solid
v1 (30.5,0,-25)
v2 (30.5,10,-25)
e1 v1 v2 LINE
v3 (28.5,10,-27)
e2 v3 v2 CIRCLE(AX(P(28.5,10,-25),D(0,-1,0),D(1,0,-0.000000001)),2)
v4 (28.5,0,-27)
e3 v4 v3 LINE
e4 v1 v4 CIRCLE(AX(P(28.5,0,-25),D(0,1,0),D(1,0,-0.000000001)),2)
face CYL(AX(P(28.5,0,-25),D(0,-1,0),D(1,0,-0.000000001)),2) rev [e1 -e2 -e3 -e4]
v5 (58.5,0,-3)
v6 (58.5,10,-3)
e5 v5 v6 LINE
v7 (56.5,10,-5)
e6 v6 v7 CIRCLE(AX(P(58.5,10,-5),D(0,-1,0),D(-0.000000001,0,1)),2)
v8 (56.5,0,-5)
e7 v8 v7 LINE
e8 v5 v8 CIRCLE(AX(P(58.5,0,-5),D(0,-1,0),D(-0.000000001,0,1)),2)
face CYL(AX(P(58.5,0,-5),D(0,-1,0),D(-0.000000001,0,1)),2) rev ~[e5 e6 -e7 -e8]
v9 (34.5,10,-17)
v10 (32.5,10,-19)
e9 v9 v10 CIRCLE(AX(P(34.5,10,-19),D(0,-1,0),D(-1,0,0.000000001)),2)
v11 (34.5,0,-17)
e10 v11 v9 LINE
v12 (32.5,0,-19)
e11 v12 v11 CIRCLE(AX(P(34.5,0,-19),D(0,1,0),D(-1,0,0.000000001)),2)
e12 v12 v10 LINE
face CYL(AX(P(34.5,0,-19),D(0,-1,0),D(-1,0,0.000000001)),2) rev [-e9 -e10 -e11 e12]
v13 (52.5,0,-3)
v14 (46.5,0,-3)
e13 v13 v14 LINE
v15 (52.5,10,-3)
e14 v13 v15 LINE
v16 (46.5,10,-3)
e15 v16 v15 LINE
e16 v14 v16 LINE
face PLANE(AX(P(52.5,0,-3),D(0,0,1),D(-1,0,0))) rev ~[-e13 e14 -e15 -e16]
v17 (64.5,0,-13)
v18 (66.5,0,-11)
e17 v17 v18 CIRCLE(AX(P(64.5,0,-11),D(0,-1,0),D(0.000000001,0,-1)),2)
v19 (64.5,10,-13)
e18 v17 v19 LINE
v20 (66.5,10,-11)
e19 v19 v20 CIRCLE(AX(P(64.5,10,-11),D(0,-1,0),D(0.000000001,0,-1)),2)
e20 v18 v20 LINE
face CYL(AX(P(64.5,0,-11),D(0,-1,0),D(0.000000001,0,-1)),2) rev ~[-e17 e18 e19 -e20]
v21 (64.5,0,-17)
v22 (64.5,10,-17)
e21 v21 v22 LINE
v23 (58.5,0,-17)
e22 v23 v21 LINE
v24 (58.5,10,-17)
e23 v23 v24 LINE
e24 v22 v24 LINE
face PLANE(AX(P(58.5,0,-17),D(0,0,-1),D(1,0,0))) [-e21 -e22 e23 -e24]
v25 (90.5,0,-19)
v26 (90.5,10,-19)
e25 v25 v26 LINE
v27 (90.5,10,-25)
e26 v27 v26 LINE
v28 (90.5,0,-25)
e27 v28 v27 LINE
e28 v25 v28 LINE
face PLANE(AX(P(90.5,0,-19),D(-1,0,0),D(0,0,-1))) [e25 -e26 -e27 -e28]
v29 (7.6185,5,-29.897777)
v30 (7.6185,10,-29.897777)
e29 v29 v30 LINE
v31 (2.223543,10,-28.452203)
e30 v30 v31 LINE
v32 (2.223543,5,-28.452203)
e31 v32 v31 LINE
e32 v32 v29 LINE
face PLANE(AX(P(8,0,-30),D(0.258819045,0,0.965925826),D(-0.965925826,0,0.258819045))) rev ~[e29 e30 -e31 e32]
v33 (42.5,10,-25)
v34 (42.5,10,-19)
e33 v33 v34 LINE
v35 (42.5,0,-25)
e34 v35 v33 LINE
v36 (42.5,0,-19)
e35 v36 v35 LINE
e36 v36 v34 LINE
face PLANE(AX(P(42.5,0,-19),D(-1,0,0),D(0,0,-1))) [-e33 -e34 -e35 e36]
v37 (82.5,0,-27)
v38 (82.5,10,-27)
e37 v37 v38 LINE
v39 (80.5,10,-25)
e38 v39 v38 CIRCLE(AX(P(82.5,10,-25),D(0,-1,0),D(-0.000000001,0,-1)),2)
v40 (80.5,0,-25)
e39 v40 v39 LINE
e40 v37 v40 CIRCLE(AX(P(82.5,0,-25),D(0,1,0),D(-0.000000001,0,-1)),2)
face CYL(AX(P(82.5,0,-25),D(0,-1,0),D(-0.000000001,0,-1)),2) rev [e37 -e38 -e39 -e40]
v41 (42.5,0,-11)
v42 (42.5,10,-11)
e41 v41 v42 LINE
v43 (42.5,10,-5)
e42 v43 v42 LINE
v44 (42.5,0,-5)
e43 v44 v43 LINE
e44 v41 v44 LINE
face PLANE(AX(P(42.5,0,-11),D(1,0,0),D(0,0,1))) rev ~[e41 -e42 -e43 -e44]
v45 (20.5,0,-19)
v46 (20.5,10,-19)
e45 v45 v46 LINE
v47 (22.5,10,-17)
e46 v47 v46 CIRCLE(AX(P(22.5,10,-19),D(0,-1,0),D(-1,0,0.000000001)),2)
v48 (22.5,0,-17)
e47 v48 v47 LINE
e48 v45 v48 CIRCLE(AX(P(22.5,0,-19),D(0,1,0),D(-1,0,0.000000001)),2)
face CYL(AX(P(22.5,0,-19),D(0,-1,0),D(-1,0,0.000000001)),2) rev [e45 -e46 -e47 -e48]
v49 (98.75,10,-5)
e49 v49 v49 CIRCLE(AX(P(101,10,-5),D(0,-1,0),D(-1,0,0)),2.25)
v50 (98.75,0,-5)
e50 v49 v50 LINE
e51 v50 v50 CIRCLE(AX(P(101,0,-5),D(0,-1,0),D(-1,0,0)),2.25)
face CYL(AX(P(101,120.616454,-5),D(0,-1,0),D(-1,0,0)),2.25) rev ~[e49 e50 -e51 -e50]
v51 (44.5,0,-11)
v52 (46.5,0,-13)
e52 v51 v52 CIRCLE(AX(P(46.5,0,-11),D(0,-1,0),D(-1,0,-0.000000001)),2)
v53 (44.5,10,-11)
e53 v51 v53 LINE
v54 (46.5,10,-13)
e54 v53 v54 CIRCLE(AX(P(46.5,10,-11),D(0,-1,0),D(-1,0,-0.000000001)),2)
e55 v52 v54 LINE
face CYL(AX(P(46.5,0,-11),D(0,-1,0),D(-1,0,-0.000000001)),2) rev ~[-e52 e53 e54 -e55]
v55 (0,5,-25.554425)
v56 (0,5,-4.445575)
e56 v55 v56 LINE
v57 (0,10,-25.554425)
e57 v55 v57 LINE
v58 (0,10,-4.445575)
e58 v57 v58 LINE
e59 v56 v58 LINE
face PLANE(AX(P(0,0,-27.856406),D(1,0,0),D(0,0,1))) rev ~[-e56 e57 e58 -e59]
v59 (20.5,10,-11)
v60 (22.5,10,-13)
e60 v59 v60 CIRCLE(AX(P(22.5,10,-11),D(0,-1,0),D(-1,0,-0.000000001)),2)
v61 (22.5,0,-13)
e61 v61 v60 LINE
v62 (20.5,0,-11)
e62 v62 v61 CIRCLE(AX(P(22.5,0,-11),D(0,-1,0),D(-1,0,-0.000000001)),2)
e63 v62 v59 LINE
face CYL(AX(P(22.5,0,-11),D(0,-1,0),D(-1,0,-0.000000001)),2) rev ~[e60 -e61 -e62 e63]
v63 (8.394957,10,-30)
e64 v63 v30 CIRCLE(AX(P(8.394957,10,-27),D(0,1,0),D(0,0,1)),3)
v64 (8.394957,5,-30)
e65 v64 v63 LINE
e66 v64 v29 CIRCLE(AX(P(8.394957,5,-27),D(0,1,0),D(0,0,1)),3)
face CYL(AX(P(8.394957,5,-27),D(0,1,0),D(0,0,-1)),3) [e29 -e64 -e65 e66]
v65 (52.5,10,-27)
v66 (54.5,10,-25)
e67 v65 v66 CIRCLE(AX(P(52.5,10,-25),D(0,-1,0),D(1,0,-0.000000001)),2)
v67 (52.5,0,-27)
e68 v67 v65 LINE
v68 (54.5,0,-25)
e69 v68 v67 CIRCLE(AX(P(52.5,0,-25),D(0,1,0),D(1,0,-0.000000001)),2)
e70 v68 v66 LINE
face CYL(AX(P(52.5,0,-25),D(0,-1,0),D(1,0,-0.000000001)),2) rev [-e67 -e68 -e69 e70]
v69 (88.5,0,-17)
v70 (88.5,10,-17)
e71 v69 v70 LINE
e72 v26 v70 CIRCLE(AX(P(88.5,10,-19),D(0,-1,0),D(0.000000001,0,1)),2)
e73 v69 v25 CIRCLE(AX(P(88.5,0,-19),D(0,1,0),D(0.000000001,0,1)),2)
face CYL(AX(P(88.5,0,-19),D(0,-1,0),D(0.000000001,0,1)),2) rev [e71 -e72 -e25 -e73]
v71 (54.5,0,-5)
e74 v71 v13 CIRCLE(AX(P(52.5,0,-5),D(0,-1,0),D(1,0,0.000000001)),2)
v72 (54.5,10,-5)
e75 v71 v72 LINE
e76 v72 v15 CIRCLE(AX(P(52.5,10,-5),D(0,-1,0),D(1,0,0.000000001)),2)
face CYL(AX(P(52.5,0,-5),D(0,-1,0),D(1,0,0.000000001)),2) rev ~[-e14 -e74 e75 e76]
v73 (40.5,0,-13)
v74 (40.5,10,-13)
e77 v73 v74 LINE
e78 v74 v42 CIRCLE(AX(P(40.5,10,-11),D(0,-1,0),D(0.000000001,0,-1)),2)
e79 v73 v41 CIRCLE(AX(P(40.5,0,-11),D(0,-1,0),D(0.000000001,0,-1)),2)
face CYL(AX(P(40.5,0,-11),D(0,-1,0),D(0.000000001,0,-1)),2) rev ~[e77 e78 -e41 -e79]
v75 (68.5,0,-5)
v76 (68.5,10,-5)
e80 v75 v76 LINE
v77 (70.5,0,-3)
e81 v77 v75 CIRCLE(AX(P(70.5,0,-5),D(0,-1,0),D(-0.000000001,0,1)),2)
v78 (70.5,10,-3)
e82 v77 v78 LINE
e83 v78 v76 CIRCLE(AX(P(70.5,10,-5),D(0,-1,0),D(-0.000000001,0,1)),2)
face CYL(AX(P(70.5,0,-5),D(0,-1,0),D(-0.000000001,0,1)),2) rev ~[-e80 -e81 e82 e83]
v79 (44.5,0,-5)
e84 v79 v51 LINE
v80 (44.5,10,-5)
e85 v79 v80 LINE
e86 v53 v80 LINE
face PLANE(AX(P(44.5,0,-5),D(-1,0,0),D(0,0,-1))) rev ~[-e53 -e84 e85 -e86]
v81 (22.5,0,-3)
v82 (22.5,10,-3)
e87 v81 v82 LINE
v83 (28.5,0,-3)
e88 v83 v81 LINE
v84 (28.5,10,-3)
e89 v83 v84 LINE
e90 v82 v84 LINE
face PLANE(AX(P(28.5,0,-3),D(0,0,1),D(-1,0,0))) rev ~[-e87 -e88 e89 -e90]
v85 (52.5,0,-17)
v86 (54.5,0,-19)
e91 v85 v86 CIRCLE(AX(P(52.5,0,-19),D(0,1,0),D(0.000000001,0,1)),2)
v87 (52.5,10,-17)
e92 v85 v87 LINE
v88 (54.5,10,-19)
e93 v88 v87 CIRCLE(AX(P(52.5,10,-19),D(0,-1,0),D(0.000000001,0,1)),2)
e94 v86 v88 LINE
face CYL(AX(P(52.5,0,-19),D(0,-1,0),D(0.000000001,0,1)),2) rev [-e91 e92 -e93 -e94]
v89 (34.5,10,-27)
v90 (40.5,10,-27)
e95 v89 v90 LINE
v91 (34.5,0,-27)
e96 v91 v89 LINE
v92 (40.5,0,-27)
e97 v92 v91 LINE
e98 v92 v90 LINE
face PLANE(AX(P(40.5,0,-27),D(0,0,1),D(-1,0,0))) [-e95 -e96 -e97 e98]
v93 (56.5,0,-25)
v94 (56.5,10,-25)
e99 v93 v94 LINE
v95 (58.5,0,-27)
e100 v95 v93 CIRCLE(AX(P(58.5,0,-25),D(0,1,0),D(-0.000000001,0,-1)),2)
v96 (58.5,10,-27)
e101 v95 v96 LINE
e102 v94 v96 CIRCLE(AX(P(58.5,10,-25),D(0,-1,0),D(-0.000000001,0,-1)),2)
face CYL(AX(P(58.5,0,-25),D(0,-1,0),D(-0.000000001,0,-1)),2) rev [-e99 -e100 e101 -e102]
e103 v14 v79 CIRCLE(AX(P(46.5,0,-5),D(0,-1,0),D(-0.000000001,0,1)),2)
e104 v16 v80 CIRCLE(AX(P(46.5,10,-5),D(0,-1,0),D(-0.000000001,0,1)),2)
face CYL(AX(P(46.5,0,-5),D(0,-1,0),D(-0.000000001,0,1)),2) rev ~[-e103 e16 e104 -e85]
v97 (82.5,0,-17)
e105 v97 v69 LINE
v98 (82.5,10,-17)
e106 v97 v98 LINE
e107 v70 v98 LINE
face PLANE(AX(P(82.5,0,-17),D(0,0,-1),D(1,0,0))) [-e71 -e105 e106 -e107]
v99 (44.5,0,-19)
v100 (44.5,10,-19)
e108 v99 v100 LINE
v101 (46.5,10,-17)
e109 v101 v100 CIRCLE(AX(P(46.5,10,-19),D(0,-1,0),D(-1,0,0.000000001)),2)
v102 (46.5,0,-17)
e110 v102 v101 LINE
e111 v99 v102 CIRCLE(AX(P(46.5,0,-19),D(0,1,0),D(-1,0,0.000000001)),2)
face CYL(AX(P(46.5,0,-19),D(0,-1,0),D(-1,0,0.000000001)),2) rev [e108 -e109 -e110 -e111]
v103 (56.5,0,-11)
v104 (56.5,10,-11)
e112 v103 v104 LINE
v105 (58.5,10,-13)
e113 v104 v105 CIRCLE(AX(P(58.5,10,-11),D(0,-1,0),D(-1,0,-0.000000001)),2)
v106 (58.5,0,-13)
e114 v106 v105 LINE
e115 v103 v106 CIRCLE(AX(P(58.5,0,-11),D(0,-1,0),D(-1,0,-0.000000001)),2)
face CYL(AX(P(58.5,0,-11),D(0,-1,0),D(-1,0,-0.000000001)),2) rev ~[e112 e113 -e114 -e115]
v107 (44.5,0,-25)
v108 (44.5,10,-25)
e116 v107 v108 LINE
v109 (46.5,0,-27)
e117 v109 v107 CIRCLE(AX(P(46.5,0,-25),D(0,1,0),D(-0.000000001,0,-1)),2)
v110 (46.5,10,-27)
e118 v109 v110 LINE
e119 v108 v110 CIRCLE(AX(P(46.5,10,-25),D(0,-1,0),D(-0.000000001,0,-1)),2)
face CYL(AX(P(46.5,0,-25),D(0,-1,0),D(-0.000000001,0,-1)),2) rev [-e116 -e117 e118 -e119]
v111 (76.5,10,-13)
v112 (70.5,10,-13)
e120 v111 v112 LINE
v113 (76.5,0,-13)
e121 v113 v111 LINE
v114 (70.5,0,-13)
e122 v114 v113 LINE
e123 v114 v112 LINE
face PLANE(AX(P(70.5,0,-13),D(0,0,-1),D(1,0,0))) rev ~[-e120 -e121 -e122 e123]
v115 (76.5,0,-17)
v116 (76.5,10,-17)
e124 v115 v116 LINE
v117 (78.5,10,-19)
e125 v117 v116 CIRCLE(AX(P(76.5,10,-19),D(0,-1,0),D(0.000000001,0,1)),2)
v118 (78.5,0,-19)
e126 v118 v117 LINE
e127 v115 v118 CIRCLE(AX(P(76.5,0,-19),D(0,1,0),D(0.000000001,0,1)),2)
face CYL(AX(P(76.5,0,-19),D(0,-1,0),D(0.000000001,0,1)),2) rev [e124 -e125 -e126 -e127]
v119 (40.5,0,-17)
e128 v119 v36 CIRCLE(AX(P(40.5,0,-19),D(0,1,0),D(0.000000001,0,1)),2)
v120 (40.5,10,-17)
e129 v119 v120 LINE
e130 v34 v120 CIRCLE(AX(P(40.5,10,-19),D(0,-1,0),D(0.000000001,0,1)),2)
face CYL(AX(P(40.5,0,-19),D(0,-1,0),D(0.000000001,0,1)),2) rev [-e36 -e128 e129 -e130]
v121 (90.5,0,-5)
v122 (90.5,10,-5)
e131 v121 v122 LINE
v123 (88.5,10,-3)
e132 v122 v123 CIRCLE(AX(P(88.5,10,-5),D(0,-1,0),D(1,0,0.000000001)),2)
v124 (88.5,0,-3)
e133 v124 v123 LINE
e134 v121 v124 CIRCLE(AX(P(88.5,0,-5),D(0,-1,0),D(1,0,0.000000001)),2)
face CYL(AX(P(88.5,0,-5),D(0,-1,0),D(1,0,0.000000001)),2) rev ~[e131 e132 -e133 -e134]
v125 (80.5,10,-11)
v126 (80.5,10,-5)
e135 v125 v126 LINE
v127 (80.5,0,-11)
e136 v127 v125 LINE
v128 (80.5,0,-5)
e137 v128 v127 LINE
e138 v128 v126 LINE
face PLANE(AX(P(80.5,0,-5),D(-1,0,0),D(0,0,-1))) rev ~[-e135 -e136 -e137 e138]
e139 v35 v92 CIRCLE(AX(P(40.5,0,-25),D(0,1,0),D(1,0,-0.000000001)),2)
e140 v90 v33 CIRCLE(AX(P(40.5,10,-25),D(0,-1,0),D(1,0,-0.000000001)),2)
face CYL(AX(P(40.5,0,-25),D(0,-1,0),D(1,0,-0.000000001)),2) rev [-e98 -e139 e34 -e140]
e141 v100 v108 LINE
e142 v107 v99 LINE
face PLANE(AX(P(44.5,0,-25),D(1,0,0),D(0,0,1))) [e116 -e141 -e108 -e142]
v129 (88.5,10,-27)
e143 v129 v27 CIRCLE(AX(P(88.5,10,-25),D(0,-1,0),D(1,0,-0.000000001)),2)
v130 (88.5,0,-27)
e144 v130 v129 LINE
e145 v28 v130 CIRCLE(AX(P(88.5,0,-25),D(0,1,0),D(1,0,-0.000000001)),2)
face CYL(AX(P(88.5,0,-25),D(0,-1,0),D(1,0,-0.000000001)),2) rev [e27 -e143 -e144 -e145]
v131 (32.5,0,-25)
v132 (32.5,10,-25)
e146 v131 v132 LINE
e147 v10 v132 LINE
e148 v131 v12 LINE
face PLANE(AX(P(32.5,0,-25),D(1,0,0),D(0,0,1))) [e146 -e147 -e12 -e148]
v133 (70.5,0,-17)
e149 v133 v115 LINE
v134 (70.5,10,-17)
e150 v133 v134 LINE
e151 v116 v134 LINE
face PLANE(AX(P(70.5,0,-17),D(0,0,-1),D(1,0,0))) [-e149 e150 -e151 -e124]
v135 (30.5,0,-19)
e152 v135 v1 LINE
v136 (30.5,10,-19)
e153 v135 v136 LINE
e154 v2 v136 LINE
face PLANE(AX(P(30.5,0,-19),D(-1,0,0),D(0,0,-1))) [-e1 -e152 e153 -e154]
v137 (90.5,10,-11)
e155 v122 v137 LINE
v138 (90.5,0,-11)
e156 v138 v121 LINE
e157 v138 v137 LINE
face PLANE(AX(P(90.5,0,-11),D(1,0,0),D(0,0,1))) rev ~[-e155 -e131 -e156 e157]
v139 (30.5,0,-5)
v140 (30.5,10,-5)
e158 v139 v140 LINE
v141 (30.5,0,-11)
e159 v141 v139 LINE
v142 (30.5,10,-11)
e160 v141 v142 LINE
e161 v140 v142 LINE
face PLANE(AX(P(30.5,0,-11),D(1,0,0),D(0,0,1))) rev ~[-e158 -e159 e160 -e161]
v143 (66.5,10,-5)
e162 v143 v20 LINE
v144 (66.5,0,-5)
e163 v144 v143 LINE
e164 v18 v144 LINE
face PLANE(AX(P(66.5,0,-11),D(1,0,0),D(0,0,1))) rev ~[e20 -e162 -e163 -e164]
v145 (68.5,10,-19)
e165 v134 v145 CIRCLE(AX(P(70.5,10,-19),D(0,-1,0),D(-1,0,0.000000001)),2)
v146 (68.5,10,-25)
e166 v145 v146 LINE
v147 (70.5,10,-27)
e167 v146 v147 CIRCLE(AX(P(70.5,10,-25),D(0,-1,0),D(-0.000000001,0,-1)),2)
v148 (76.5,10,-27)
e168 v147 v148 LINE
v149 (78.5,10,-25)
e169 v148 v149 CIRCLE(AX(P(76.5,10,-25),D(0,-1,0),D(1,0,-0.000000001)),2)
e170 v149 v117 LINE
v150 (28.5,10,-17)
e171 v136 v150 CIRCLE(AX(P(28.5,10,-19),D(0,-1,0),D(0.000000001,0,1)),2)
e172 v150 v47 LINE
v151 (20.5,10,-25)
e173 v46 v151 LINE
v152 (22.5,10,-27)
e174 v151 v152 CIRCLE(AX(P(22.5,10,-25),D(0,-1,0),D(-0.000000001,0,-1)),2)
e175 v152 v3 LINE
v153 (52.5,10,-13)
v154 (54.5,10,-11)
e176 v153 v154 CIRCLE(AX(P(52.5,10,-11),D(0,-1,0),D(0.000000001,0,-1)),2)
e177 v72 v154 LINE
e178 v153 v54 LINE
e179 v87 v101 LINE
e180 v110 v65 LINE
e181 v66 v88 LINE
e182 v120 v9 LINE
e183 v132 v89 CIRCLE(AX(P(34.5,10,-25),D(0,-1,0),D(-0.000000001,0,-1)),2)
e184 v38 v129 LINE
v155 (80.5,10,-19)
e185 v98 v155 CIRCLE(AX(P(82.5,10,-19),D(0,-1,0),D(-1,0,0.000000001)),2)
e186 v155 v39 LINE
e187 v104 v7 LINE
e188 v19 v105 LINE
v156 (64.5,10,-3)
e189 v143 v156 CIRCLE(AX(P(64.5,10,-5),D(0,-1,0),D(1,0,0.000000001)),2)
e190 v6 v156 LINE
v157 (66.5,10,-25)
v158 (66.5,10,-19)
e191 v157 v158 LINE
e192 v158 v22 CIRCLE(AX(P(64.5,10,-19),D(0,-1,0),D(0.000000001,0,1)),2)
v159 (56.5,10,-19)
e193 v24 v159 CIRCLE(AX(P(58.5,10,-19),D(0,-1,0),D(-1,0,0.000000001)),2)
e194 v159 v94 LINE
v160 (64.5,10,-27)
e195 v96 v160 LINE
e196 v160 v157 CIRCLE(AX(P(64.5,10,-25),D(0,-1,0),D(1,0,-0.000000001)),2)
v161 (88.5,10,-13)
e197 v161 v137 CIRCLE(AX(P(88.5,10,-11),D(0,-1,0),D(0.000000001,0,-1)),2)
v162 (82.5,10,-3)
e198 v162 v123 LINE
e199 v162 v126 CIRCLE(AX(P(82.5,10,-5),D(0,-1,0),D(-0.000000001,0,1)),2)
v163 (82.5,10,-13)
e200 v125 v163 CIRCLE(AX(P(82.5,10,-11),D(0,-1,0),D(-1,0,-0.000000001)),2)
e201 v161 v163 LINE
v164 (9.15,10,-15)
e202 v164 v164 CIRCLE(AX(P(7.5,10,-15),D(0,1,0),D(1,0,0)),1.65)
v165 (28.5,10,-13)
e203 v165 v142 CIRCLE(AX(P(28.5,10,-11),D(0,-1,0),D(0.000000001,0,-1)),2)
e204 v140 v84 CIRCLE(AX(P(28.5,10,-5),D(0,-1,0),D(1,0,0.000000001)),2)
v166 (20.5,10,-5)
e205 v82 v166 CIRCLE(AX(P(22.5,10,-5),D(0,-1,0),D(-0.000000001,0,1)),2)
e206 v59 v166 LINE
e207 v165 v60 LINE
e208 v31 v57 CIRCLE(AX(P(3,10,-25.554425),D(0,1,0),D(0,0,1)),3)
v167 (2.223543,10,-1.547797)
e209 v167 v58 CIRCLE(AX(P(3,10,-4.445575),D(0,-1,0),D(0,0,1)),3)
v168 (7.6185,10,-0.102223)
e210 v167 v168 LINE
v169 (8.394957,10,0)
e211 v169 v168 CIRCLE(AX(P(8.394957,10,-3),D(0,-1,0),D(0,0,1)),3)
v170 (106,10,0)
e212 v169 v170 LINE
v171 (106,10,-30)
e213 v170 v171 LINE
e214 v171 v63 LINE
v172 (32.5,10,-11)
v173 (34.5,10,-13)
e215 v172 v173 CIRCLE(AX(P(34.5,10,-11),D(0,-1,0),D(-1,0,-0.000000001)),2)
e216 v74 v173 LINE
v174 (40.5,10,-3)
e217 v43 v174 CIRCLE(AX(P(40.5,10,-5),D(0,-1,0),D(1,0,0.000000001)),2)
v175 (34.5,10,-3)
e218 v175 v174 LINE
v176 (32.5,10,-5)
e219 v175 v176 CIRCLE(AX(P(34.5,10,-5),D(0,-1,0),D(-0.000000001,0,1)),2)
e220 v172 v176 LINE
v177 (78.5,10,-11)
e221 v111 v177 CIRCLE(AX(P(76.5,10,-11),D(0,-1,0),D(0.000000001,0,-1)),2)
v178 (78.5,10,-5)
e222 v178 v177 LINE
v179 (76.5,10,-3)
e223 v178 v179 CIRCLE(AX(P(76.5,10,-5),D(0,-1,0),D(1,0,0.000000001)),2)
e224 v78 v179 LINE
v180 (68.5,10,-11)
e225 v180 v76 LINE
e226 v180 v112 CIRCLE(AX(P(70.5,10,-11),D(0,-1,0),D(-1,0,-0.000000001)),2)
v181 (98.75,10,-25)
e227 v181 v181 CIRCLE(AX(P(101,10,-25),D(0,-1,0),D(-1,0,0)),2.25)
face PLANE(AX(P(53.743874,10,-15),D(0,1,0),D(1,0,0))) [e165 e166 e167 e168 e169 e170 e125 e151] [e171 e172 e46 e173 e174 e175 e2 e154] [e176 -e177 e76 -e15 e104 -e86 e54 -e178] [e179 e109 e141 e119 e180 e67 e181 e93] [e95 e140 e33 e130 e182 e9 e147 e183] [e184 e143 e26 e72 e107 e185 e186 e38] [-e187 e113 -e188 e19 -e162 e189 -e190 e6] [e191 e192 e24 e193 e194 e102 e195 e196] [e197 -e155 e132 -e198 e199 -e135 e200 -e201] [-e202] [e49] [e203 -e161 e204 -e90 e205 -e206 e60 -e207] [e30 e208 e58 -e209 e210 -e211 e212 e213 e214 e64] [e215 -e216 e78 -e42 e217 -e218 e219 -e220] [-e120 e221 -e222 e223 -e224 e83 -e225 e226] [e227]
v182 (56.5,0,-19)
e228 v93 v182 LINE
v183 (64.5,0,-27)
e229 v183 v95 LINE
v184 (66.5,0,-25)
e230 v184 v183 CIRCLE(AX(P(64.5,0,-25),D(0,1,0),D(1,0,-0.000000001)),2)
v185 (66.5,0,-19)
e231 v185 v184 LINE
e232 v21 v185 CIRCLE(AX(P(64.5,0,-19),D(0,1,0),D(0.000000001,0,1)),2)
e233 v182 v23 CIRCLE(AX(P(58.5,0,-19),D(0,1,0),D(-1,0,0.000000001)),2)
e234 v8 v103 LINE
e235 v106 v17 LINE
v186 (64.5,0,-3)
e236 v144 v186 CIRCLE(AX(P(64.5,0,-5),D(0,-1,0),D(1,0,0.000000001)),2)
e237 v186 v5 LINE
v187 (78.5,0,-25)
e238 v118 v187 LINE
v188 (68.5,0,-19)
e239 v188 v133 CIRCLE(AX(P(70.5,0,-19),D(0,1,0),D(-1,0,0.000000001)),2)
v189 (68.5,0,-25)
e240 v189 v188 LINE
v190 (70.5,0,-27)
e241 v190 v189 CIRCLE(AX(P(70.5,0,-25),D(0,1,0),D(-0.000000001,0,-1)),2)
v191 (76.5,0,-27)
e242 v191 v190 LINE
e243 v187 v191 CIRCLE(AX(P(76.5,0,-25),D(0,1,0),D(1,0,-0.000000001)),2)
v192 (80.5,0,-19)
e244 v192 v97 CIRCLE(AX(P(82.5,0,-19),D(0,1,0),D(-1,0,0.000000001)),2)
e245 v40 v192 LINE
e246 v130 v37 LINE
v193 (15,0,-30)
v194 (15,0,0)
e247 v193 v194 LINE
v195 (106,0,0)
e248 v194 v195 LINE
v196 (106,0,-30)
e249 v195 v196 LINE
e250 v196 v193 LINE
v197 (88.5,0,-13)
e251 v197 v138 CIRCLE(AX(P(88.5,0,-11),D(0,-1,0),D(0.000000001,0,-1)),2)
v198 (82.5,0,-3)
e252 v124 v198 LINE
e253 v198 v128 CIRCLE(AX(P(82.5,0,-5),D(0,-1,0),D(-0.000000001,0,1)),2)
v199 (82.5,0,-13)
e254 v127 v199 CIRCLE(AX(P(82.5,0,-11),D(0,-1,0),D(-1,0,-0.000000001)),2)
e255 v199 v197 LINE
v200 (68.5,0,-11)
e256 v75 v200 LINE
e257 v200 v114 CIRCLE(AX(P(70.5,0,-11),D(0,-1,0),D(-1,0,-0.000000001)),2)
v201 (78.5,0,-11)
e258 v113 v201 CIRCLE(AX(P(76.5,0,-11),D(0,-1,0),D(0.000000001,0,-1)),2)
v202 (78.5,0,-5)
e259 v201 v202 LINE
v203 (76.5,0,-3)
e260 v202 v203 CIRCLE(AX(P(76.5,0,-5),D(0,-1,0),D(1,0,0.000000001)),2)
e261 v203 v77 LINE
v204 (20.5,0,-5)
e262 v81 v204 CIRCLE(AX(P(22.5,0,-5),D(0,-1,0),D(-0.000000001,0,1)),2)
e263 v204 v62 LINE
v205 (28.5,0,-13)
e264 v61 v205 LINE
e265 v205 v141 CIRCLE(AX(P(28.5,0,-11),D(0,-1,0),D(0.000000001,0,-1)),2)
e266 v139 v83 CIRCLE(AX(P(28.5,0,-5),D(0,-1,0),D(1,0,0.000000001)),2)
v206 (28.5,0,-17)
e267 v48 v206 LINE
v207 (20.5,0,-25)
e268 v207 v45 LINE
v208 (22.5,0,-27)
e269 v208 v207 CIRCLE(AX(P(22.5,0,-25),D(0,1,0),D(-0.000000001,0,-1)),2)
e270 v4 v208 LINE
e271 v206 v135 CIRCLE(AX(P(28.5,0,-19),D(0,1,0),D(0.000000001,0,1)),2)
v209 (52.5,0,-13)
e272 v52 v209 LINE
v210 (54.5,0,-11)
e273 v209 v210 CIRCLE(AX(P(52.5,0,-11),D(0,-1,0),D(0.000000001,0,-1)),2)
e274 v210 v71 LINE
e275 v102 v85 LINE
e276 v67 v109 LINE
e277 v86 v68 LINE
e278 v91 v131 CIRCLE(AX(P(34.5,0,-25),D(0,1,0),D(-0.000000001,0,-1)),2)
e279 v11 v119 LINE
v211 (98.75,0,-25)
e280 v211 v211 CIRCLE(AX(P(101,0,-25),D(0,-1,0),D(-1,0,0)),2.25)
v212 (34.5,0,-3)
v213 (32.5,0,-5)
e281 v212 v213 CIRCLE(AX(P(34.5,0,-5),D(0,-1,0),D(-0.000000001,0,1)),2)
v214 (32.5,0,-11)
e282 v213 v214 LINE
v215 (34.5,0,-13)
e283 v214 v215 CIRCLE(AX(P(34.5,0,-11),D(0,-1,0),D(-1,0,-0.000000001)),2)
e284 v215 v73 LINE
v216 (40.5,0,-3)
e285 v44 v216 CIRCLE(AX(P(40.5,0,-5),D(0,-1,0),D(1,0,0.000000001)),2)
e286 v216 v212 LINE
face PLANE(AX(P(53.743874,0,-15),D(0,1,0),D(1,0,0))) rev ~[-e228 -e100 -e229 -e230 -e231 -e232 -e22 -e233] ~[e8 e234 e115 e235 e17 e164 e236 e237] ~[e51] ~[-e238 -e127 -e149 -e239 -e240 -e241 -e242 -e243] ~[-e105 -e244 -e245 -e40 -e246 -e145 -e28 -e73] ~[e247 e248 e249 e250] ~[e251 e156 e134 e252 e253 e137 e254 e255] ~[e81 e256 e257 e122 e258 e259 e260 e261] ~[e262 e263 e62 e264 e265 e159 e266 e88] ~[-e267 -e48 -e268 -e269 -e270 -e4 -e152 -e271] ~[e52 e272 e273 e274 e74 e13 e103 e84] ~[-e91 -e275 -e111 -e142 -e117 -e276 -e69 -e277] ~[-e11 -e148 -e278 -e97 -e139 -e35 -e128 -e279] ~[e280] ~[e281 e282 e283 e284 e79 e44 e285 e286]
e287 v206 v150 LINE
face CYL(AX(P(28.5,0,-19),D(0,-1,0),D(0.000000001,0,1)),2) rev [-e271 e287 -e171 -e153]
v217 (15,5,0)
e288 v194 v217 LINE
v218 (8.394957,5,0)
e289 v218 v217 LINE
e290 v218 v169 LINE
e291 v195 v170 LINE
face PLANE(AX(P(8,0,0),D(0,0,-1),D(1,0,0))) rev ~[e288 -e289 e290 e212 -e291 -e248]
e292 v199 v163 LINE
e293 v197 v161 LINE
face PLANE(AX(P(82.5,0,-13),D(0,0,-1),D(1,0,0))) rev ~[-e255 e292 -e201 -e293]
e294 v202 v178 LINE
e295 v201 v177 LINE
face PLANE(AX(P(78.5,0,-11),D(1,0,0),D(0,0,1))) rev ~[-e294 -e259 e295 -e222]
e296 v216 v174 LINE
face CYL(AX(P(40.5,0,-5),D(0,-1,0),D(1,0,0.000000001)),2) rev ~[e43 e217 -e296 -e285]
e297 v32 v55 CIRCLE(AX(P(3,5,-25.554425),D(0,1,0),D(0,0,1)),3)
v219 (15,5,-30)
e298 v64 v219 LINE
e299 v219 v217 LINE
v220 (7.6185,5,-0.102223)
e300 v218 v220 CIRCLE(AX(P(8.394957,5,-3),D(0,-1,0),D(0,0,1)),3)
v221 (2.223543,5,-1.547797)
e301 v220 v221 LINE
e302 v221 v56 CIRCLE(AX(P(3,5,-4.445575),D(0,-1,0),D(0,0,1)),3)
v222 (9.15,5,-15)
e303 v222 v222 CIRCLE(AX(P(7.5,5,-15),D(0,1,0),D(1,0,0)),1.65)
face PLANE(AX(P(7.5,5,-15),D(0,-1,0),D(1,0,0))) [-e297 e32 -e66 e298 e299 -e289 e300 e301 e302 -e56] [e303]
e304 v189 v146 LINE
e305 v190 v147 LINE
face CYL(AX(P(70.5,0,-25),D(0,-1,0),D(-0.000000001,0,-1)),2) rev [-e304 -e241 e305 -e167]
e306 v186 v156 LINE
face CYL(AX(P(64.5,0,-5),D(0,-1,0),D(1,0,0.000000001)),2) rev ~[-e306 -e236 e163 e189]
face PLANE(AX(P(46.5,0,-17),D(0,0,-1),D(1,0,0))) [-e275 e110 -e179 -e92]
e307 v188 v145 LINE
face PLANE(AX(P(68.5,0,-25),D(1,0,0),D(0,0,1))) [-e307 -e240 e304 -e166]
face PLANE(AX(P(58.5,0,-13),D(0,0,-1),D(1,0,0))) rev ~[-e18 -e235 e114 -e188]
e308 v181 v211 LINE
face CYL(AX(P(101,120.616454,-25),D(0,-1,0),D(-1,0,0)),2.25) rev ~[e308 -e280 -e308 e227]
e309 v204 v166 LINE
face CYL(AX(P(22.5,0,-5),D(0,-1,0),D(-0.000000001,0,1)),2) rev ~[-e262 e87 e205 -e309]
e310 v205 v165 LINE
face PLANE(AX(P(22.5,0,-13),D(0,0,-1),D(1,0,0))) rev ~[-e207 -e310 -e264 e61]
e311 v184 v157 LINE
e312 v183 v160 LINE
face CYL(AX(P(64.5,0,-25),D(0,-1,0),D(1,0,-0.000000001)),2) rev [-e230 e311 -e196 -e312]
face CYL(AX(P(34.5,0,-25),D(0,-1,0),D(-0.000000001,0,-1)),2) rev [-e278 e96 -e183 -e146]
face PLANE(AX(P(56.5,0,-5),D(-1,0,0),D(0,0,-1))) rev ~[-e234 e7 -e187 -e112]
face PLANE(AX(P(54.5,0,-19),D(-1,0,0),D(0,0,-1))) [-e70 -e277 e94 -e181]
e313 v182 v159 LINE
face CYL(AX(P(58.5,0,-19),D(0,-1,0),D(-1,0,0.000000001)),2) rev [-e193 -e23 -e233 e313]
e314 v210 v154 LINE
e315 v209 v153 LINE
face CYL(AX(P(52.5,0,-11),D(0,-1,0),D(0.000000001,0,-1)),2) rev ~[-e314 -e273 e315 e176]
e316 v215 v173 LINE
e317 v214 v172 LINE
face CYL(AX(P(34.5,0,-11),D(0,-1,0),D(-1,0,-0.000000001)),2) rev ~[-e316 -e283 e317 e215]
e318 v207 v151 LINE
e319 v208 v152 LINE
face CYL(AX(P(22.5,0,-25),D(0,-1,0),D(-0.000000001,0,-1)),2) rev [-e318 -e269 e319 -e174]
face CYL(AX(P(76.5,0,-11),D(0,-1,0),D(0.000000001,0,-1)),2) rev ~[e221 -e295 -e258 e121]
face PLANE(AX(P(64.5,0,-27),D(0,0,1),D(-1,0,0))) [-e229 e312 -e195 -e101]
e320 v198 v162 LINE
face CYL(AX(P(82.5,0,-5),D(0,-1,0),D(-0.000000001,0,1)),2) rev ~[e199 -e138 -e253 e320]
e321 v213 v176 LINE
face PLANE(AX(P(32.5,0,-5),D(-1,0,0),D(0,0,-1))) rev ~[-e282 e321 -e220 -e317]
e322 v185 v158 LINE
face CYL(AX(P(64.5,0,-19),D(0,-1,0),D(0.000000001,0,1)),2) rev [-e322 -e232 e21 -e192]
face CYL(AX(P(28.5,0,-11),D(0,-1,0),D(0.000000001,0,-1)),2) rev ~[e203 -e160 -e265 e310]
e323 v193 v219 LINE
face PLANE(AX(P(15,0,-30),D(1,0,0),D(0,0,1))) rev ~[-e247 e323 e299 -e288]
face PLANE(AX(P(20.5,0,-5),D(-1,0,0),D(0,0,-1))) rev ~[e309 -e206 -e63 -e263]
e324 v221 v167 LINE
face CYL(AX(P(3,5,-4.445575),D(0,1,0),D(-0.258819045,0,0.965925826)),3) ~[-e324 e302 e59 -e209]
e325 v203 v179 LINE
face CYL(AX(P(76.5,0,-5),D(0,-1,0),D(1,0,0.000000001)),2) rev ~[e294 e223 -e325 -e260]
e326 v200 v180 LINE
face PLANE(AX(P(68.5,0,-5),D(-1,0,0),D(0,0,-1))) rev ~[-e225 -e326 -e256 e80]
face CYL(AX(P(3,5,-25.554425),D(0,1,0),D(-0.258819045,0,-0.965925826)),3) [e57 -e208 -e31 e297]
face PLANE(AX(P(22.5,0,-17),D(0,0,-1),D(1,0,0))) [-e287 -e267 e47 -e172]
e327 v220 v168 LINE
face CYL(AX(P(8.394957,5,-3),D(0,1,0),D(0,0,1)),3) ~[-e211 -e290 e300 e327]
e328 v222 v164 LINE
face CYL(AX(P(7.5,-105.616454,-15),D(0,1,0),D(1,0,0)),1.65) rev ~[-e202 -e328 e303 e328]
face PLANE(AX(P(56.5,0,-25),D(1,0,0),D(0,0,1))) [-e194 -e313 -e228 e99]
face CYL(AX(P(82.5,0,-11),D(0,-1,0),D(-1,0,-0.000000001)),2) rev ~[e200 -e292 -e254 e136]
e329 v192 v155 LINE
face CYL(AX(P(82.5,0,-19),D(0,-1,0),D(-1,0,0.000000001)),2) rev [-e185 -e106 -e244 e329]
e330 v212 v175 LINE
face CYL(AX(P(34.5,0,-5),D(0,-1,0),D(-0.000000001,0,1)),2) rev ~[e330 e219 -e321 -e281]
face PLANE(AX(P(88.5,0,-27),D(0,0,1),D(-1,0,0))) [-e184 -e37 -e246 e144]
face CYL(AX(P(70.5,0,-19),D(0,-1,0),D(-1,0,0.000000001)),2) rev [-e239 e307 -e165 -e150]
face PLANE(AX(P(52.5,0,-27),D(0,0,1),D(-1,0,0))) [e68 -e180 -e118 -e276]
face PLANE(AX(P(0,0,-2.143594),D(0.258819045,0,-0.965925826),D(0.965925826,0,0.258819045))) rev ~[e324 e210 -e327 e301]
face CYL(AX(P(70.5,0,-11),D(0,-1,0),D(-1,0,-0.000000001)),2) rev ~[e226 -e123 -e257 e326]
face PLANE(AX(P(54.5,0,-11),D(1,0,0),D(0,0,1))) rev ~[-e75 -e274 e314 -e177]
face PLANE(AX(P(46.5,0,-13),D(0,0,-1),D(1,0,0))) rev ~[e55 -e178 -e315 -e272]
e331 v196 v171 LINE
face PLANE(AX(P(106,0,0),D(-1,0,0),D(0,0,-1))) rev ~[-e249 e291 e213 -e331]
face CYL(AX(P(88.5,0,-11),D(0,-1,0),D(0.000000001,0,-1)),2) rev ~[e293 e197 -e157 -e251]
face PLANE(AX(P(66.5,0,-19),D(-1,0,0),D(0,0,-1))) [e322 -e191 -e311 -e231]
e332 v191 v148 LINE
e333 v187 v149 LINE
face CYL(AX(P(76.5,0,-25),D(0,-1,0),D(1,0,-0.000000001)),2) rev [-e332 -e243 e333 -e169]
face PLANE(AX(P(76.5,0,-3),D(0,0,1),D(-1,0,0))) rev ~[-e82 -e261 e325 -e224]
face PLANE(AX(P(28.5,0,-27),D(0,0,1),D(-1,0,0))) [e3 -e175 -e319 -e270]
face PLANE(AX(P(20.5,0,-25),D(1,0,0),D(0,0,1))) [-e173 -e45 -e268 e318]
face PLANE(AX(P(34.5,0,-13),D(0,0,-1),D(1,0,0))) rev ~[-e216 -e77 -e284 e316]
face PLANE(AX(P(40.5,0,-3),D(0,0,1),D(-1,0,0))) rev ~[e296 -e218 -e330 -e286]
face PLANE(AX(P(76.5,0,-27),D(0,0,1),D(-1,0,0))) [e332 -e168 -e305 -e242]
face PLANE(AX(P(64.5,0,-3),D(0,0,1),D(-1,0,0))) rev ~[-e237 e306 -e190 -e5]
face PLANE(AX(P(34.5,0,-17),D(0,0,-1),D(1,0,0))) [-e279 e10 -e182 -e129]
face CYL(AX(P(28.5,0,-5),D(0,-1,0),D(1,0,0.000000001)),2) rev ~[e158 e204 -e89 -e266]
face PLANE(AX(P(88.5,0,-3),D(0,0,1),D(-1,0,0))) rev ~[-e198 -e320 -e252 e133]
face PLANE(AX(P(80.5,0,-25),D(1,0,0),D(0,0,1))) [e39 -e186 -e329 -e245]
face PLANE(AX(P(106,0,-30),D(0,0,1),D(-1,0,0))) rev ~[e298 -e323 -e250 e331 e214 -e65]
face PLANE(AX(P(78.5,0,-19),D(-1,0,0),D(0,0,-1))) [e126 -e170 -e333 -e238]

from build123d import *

# Parameters (mm, degrees)
EXTRUDE_1_DEPTH     = 10
SKETCH_4_W          = 15
SKETCH_4_H          = 30
CUT_EXTRUDE_2_DEPTH = 5
FILLET_1_R          = 3
CUT_EXTRUDE_3_DEPTH = 111.616454472
HOLE_WIZARD_M41_D   = 4.5
M4X0_71_D           = 3.3


with BuildPart() as part:
    # Эскиз1 → Бобышка-Вытянуть1 (new body)
    with BuildSketch(Plane(origin=(0, 0, 0), x_dir=(1, 0, 0), z_dir=(0, 1, 0))):
        Polygon((15, 0), (106, 0), (106, 30), (15, 30), (8, 30), (0, 27.856406461), (0, 2.143593539), (8, 0), align=None)
    extrude(amount=EXTRUDE_1_DEPTH)

    # Эскиз4 → Вырез-Вытянуть2 (cut)
    with BuildSketch(Plane.XZ):
        with Locations((7.5, -15)):
            Rectangle(SKETCH_4_W, SKETCH_4_H)
    extrude(amount=-CUT_EXTRUDE_2_DEPTH, mode=Mode.SUBTRACT)

    # Скругление1
    fillet_1_edges = [part.edges().sort_by_distance(p)[0] for p in [
        (8, 7.5, 0),
        (0, 7.5, -2.143593539),
        (0, 7.5, -27.856406461),
        (8, 7.5, -30),
    ]]
    fillet(fillet_1_edges, radius=FILLET_1_R)

    # Эскиз5 → Вырез-Вытянуть3 (cut, through all)
    with BuildSketch(Plane.XZ):
        with BuildLine():
            Line((22.5, -17), (28.5, -17))
            ThreePointArc((28.5, -17), (29.914213562, -17.585786438), (30.5, -19))
            Line((30.5, -19), (30.5, -25))
            ThreePointArc((30.5, -25), (29.914213562, -26.414213562), (28.5, -27))
            Line((28.5, -27), (22.5, -27))
            ThreePointArc((22.5, -27), (21.085786438, -26.414213562), (20.5, -25))
            Line((20.5, -25), (20.5, -19))
            ThreePointArc((20.5, -19), (21.085786438, -17.585786438), (22.5, -17))
        make_face()
        with BuildLine():
            Line((34.5, -17), (40.5, -17))
            ThreePointArc((40.5, -17), (41.914213562, -17.585786438), (42.5, -19))
            Line((42.5, -19), (42.5, -25))
            ThreePointArc((42.5, -25), (41.914213562, -26.414213562), (40.5, -27))
            Line((40.5, -27), (34.5, -27))
            ThreePointArc((34.5, -27), (33.085786438, -26.414213562), (32.5, -25))
            Line((32.5, -25), (32.5, -19))
            ThreePointArc((32.5, -19), (33.085786438, -17.585786438), (34.5, -17))
        make_face()
        with BuildLine():
            Line((46.5, -17), (52.5, -17))
            ThreePointArc((52.5, -17), (53.914213562, -17.585786438), (54.5, -19))
            Line((54.5, -19), (54.5, -25))
            ThreePointArc((54.5, -25), (53.914213562, -26.414213562), (52.5, -27))
            Line((52.5, -27), (46.5, -27))
            ThreePointArc((46.5, -27), (45.085786438, -26.414213562), (44.5, -25))
            Line((44.5, -25), (44.5, -19))
            ThreePointArc((44.5, -19), (45.085786438, -17.585786438), (46.5, -17))
        make_face()
        with BuildLine():
            Line((58.5, -17), (64.5, -17))
            ThreePointArc((64.5, -17), (65.914213562, -17.585786438), (66.5, -19))
            Line((66.5, -19), (66.5, -25))
            ThreePointArc((66.5, -25), (65.914213562, -26.414213562), (64.5, -27))
            Line((64.5, -27), (58.5, -27))
            ThreePointArc((58.5, -27), (57.085786438, -26.414213562), (56.5, -25))
            Line((56.5, -25), (56.5, -19))
            ThreePointArc((56.5, -19), (57.085786438, -17.585786438), (58.5, -17))
        make_face()
        with BuildLine():
            Line((70.5, -17), (76.5, -17))
            ThreePointArc((76.5, -17), (77.914213562, -17.585786438), (78.5, -19))
            Line((78.5, -19), (78.5, -25))
            ThreePointArc((78.5, -25), (77.914213562, -26.414213562), (76.5, -27))
            Line((76.5, -27), (70.5, -27))
            ThreePointArc((70.5, -27), (69.085786438, -26.414213562), (68.5, -25))
            Line((68.5, -25), (68.5, -19))
            ThreePointArc((68.5, -19), (69.085786438, -17.585786438), (70.5, -17))
        make_face()
        with BuildLine():
            Line((82.5, -17), (88.5, -17))
            ThreePointArc((88.5, -17), (89.914213562, -17.585786438), (90.5, -19))
            Line((90.5, -19), (90.5, -25))
            ThreePointArc((90.5, -25), (89.914213562, -26.414213562), (88.5, -27))
            Line((88.5, -27), (82.5, -27))
            ThreePointArc((82.5, -27), (81.085786438, -26.414213562), (80.5, -25))
            Line((80.5, -25), (80.5, -19))
            ThreePointArc((80.5, -19), (81.085786438, -17.585786438), (82.5, -17))
        make_face()
        with BuildLine():
            Line((90.5, -11), (90.5, -5))
            ThreePointArc((90.5, -5), (89.914213562, -3.585786438), (88.5, -3))
            Line((88.5, -3), (82.5, -3))
            ThreePointArc((82.5, -3), (81.085786438, -3.585786438), (80.5, -5))
            Line((80.5, -5), (80.5, -11))
            ThreePointArc((80.5, -11), (81.085786438, -12.414213562), (82.5, -13))
            Line((82.5, -13), (88.5, -13))
            ThreePointArc((88.5, -13), (89.914213562, -12.414213562), (90.5, -11))
        make_face()
        with BuildLine():
            Line((78.5, -11), (78.5, -5))
            ThreePointArc((78.5, -5), (77.914213562, -3.585786438), (76.5, -3))
            Line((76.5, -3), (70.5, -3))
            ThreePointArc((70.5, -3), (69.085786438, -3.585786438), (68.5, -5))
            Line((68.5, -5), (68.5, -11))
            ThreePointArc((68.5, -11), (69.085786438, -12.414213562), (70.5, -13))
            Line((70.5, -13), (76.5, -13))
            ThreePointArc((76.5, -13), (77.914213562, -12.414213562), (78.5, -11))
        make_face()
        with BuildLine():
            Line((66.5, -11), (66.5, -5))
            ThreePointArc((66.5, -5), (65.914213562, -3.585786438), (64.5, -3))
            Line((64.5, -3), (58.5, -3))
            ThreePointArc((58.5, -3), (57.085786438, -3.585786438), (56.5, -5))
            Line((56.5, -5), (56.5, -11))
            ThreePointArc((56.5, -11), (57.085786438, -12.414213562), (58.5, -13))
            Line((58.5, -13), (64.5, -13))
            ThreePointArc((64.5, -13), (65.914213562, -12.414213562), (66.5, -11))
        make_face()
        with BuildLine():
            Line((54.5, -11), (54.5, -5))
            ThreePointArc((54.5, -5), (53.914213562, -3.585786438), (52.5, -3))
            Line((52.5, -3), (46.5, -3))
            ThreePointArc((46.5, -3), (45.085786438, -3.585786438), (44.5, -5))
            Line((44.5, -5), (44.5, -11))
            ThreePointArc((44.5, -11), (45.085786438, -12.414213562), (46.5, -13))
            Line((46.5, -13), (52.5, -13))
            ThreePointArc((52.5, -13), (53.914213562, -12.414213562), (54.5, -11))
        make_face()
        with BuildLine():
            Line((42.5, -11), (42.5, -5))
            ThreePointArc((42.5, -5), (41.914213562, -3.585786438), (40.5, -3))
            Line((40.5, -3), (34.5, -3))
            ThreePointArc((34.5, -3), (33.085786438, -3.585786438), (32.5, -5))
            Line((32.5, -5), (32.5, -11))
            ThreePointArc((32.5, -11), (33.085786438, -12.414213562), (34.5, -13))
            Line((34.5, -13), (40.5, -13))
            ThreePointArc((40.5, -13), (41.914213562, -12.414213562), (42.5, -11))
        make_face()
        with BuildLine():
            Line((30.5, -11), (30.5, -5))
            ThreePointArc((30.5, -5), (29.914213562, -3.585786438), (28.5, -3))
            Line((28.5, -3), (22.5, -3))
            ThreePointArc((22.5, -3), (21.085786438, -3.585786438), (20.5, -5))
            Line((20.5, -5), (20.5, -11))
            ThreePointArc((20.5, -11), (21.085786438, -12.414213562), (22.5, -13))
            Line((22.5, -13), (28.5, -13))
            ThreePointArc((28.5, -13), (29.914213562, -12.414213562), (30.5, -11))
        make_face()
    extrude(amount=-CUT_EXTRUDE_3_DEPTH, mode=Mode.SUBTRACT)

    # Отверстие с зазором M41 (through all)
    with Locations(Plane(origin=(0, 10, 0), x_dir=(1, 0, 0), z_dir=(0, 1, 0))):
        with Locations((101, 25), (101, 5)):
            Hole(HOLE_WIZARD_M41_D / 2)

    # Отверстие обработанное метчиком M4x0.71 (through all)
    with Locations(Plane(origin=(0, 5, 0), x_dir=(-1, 0, 0), z_dir=(0, -1, 0))):
        with Locations((-7.5, 15)):
            Hole(M4X0_71_D / 2)


solid = part.part
